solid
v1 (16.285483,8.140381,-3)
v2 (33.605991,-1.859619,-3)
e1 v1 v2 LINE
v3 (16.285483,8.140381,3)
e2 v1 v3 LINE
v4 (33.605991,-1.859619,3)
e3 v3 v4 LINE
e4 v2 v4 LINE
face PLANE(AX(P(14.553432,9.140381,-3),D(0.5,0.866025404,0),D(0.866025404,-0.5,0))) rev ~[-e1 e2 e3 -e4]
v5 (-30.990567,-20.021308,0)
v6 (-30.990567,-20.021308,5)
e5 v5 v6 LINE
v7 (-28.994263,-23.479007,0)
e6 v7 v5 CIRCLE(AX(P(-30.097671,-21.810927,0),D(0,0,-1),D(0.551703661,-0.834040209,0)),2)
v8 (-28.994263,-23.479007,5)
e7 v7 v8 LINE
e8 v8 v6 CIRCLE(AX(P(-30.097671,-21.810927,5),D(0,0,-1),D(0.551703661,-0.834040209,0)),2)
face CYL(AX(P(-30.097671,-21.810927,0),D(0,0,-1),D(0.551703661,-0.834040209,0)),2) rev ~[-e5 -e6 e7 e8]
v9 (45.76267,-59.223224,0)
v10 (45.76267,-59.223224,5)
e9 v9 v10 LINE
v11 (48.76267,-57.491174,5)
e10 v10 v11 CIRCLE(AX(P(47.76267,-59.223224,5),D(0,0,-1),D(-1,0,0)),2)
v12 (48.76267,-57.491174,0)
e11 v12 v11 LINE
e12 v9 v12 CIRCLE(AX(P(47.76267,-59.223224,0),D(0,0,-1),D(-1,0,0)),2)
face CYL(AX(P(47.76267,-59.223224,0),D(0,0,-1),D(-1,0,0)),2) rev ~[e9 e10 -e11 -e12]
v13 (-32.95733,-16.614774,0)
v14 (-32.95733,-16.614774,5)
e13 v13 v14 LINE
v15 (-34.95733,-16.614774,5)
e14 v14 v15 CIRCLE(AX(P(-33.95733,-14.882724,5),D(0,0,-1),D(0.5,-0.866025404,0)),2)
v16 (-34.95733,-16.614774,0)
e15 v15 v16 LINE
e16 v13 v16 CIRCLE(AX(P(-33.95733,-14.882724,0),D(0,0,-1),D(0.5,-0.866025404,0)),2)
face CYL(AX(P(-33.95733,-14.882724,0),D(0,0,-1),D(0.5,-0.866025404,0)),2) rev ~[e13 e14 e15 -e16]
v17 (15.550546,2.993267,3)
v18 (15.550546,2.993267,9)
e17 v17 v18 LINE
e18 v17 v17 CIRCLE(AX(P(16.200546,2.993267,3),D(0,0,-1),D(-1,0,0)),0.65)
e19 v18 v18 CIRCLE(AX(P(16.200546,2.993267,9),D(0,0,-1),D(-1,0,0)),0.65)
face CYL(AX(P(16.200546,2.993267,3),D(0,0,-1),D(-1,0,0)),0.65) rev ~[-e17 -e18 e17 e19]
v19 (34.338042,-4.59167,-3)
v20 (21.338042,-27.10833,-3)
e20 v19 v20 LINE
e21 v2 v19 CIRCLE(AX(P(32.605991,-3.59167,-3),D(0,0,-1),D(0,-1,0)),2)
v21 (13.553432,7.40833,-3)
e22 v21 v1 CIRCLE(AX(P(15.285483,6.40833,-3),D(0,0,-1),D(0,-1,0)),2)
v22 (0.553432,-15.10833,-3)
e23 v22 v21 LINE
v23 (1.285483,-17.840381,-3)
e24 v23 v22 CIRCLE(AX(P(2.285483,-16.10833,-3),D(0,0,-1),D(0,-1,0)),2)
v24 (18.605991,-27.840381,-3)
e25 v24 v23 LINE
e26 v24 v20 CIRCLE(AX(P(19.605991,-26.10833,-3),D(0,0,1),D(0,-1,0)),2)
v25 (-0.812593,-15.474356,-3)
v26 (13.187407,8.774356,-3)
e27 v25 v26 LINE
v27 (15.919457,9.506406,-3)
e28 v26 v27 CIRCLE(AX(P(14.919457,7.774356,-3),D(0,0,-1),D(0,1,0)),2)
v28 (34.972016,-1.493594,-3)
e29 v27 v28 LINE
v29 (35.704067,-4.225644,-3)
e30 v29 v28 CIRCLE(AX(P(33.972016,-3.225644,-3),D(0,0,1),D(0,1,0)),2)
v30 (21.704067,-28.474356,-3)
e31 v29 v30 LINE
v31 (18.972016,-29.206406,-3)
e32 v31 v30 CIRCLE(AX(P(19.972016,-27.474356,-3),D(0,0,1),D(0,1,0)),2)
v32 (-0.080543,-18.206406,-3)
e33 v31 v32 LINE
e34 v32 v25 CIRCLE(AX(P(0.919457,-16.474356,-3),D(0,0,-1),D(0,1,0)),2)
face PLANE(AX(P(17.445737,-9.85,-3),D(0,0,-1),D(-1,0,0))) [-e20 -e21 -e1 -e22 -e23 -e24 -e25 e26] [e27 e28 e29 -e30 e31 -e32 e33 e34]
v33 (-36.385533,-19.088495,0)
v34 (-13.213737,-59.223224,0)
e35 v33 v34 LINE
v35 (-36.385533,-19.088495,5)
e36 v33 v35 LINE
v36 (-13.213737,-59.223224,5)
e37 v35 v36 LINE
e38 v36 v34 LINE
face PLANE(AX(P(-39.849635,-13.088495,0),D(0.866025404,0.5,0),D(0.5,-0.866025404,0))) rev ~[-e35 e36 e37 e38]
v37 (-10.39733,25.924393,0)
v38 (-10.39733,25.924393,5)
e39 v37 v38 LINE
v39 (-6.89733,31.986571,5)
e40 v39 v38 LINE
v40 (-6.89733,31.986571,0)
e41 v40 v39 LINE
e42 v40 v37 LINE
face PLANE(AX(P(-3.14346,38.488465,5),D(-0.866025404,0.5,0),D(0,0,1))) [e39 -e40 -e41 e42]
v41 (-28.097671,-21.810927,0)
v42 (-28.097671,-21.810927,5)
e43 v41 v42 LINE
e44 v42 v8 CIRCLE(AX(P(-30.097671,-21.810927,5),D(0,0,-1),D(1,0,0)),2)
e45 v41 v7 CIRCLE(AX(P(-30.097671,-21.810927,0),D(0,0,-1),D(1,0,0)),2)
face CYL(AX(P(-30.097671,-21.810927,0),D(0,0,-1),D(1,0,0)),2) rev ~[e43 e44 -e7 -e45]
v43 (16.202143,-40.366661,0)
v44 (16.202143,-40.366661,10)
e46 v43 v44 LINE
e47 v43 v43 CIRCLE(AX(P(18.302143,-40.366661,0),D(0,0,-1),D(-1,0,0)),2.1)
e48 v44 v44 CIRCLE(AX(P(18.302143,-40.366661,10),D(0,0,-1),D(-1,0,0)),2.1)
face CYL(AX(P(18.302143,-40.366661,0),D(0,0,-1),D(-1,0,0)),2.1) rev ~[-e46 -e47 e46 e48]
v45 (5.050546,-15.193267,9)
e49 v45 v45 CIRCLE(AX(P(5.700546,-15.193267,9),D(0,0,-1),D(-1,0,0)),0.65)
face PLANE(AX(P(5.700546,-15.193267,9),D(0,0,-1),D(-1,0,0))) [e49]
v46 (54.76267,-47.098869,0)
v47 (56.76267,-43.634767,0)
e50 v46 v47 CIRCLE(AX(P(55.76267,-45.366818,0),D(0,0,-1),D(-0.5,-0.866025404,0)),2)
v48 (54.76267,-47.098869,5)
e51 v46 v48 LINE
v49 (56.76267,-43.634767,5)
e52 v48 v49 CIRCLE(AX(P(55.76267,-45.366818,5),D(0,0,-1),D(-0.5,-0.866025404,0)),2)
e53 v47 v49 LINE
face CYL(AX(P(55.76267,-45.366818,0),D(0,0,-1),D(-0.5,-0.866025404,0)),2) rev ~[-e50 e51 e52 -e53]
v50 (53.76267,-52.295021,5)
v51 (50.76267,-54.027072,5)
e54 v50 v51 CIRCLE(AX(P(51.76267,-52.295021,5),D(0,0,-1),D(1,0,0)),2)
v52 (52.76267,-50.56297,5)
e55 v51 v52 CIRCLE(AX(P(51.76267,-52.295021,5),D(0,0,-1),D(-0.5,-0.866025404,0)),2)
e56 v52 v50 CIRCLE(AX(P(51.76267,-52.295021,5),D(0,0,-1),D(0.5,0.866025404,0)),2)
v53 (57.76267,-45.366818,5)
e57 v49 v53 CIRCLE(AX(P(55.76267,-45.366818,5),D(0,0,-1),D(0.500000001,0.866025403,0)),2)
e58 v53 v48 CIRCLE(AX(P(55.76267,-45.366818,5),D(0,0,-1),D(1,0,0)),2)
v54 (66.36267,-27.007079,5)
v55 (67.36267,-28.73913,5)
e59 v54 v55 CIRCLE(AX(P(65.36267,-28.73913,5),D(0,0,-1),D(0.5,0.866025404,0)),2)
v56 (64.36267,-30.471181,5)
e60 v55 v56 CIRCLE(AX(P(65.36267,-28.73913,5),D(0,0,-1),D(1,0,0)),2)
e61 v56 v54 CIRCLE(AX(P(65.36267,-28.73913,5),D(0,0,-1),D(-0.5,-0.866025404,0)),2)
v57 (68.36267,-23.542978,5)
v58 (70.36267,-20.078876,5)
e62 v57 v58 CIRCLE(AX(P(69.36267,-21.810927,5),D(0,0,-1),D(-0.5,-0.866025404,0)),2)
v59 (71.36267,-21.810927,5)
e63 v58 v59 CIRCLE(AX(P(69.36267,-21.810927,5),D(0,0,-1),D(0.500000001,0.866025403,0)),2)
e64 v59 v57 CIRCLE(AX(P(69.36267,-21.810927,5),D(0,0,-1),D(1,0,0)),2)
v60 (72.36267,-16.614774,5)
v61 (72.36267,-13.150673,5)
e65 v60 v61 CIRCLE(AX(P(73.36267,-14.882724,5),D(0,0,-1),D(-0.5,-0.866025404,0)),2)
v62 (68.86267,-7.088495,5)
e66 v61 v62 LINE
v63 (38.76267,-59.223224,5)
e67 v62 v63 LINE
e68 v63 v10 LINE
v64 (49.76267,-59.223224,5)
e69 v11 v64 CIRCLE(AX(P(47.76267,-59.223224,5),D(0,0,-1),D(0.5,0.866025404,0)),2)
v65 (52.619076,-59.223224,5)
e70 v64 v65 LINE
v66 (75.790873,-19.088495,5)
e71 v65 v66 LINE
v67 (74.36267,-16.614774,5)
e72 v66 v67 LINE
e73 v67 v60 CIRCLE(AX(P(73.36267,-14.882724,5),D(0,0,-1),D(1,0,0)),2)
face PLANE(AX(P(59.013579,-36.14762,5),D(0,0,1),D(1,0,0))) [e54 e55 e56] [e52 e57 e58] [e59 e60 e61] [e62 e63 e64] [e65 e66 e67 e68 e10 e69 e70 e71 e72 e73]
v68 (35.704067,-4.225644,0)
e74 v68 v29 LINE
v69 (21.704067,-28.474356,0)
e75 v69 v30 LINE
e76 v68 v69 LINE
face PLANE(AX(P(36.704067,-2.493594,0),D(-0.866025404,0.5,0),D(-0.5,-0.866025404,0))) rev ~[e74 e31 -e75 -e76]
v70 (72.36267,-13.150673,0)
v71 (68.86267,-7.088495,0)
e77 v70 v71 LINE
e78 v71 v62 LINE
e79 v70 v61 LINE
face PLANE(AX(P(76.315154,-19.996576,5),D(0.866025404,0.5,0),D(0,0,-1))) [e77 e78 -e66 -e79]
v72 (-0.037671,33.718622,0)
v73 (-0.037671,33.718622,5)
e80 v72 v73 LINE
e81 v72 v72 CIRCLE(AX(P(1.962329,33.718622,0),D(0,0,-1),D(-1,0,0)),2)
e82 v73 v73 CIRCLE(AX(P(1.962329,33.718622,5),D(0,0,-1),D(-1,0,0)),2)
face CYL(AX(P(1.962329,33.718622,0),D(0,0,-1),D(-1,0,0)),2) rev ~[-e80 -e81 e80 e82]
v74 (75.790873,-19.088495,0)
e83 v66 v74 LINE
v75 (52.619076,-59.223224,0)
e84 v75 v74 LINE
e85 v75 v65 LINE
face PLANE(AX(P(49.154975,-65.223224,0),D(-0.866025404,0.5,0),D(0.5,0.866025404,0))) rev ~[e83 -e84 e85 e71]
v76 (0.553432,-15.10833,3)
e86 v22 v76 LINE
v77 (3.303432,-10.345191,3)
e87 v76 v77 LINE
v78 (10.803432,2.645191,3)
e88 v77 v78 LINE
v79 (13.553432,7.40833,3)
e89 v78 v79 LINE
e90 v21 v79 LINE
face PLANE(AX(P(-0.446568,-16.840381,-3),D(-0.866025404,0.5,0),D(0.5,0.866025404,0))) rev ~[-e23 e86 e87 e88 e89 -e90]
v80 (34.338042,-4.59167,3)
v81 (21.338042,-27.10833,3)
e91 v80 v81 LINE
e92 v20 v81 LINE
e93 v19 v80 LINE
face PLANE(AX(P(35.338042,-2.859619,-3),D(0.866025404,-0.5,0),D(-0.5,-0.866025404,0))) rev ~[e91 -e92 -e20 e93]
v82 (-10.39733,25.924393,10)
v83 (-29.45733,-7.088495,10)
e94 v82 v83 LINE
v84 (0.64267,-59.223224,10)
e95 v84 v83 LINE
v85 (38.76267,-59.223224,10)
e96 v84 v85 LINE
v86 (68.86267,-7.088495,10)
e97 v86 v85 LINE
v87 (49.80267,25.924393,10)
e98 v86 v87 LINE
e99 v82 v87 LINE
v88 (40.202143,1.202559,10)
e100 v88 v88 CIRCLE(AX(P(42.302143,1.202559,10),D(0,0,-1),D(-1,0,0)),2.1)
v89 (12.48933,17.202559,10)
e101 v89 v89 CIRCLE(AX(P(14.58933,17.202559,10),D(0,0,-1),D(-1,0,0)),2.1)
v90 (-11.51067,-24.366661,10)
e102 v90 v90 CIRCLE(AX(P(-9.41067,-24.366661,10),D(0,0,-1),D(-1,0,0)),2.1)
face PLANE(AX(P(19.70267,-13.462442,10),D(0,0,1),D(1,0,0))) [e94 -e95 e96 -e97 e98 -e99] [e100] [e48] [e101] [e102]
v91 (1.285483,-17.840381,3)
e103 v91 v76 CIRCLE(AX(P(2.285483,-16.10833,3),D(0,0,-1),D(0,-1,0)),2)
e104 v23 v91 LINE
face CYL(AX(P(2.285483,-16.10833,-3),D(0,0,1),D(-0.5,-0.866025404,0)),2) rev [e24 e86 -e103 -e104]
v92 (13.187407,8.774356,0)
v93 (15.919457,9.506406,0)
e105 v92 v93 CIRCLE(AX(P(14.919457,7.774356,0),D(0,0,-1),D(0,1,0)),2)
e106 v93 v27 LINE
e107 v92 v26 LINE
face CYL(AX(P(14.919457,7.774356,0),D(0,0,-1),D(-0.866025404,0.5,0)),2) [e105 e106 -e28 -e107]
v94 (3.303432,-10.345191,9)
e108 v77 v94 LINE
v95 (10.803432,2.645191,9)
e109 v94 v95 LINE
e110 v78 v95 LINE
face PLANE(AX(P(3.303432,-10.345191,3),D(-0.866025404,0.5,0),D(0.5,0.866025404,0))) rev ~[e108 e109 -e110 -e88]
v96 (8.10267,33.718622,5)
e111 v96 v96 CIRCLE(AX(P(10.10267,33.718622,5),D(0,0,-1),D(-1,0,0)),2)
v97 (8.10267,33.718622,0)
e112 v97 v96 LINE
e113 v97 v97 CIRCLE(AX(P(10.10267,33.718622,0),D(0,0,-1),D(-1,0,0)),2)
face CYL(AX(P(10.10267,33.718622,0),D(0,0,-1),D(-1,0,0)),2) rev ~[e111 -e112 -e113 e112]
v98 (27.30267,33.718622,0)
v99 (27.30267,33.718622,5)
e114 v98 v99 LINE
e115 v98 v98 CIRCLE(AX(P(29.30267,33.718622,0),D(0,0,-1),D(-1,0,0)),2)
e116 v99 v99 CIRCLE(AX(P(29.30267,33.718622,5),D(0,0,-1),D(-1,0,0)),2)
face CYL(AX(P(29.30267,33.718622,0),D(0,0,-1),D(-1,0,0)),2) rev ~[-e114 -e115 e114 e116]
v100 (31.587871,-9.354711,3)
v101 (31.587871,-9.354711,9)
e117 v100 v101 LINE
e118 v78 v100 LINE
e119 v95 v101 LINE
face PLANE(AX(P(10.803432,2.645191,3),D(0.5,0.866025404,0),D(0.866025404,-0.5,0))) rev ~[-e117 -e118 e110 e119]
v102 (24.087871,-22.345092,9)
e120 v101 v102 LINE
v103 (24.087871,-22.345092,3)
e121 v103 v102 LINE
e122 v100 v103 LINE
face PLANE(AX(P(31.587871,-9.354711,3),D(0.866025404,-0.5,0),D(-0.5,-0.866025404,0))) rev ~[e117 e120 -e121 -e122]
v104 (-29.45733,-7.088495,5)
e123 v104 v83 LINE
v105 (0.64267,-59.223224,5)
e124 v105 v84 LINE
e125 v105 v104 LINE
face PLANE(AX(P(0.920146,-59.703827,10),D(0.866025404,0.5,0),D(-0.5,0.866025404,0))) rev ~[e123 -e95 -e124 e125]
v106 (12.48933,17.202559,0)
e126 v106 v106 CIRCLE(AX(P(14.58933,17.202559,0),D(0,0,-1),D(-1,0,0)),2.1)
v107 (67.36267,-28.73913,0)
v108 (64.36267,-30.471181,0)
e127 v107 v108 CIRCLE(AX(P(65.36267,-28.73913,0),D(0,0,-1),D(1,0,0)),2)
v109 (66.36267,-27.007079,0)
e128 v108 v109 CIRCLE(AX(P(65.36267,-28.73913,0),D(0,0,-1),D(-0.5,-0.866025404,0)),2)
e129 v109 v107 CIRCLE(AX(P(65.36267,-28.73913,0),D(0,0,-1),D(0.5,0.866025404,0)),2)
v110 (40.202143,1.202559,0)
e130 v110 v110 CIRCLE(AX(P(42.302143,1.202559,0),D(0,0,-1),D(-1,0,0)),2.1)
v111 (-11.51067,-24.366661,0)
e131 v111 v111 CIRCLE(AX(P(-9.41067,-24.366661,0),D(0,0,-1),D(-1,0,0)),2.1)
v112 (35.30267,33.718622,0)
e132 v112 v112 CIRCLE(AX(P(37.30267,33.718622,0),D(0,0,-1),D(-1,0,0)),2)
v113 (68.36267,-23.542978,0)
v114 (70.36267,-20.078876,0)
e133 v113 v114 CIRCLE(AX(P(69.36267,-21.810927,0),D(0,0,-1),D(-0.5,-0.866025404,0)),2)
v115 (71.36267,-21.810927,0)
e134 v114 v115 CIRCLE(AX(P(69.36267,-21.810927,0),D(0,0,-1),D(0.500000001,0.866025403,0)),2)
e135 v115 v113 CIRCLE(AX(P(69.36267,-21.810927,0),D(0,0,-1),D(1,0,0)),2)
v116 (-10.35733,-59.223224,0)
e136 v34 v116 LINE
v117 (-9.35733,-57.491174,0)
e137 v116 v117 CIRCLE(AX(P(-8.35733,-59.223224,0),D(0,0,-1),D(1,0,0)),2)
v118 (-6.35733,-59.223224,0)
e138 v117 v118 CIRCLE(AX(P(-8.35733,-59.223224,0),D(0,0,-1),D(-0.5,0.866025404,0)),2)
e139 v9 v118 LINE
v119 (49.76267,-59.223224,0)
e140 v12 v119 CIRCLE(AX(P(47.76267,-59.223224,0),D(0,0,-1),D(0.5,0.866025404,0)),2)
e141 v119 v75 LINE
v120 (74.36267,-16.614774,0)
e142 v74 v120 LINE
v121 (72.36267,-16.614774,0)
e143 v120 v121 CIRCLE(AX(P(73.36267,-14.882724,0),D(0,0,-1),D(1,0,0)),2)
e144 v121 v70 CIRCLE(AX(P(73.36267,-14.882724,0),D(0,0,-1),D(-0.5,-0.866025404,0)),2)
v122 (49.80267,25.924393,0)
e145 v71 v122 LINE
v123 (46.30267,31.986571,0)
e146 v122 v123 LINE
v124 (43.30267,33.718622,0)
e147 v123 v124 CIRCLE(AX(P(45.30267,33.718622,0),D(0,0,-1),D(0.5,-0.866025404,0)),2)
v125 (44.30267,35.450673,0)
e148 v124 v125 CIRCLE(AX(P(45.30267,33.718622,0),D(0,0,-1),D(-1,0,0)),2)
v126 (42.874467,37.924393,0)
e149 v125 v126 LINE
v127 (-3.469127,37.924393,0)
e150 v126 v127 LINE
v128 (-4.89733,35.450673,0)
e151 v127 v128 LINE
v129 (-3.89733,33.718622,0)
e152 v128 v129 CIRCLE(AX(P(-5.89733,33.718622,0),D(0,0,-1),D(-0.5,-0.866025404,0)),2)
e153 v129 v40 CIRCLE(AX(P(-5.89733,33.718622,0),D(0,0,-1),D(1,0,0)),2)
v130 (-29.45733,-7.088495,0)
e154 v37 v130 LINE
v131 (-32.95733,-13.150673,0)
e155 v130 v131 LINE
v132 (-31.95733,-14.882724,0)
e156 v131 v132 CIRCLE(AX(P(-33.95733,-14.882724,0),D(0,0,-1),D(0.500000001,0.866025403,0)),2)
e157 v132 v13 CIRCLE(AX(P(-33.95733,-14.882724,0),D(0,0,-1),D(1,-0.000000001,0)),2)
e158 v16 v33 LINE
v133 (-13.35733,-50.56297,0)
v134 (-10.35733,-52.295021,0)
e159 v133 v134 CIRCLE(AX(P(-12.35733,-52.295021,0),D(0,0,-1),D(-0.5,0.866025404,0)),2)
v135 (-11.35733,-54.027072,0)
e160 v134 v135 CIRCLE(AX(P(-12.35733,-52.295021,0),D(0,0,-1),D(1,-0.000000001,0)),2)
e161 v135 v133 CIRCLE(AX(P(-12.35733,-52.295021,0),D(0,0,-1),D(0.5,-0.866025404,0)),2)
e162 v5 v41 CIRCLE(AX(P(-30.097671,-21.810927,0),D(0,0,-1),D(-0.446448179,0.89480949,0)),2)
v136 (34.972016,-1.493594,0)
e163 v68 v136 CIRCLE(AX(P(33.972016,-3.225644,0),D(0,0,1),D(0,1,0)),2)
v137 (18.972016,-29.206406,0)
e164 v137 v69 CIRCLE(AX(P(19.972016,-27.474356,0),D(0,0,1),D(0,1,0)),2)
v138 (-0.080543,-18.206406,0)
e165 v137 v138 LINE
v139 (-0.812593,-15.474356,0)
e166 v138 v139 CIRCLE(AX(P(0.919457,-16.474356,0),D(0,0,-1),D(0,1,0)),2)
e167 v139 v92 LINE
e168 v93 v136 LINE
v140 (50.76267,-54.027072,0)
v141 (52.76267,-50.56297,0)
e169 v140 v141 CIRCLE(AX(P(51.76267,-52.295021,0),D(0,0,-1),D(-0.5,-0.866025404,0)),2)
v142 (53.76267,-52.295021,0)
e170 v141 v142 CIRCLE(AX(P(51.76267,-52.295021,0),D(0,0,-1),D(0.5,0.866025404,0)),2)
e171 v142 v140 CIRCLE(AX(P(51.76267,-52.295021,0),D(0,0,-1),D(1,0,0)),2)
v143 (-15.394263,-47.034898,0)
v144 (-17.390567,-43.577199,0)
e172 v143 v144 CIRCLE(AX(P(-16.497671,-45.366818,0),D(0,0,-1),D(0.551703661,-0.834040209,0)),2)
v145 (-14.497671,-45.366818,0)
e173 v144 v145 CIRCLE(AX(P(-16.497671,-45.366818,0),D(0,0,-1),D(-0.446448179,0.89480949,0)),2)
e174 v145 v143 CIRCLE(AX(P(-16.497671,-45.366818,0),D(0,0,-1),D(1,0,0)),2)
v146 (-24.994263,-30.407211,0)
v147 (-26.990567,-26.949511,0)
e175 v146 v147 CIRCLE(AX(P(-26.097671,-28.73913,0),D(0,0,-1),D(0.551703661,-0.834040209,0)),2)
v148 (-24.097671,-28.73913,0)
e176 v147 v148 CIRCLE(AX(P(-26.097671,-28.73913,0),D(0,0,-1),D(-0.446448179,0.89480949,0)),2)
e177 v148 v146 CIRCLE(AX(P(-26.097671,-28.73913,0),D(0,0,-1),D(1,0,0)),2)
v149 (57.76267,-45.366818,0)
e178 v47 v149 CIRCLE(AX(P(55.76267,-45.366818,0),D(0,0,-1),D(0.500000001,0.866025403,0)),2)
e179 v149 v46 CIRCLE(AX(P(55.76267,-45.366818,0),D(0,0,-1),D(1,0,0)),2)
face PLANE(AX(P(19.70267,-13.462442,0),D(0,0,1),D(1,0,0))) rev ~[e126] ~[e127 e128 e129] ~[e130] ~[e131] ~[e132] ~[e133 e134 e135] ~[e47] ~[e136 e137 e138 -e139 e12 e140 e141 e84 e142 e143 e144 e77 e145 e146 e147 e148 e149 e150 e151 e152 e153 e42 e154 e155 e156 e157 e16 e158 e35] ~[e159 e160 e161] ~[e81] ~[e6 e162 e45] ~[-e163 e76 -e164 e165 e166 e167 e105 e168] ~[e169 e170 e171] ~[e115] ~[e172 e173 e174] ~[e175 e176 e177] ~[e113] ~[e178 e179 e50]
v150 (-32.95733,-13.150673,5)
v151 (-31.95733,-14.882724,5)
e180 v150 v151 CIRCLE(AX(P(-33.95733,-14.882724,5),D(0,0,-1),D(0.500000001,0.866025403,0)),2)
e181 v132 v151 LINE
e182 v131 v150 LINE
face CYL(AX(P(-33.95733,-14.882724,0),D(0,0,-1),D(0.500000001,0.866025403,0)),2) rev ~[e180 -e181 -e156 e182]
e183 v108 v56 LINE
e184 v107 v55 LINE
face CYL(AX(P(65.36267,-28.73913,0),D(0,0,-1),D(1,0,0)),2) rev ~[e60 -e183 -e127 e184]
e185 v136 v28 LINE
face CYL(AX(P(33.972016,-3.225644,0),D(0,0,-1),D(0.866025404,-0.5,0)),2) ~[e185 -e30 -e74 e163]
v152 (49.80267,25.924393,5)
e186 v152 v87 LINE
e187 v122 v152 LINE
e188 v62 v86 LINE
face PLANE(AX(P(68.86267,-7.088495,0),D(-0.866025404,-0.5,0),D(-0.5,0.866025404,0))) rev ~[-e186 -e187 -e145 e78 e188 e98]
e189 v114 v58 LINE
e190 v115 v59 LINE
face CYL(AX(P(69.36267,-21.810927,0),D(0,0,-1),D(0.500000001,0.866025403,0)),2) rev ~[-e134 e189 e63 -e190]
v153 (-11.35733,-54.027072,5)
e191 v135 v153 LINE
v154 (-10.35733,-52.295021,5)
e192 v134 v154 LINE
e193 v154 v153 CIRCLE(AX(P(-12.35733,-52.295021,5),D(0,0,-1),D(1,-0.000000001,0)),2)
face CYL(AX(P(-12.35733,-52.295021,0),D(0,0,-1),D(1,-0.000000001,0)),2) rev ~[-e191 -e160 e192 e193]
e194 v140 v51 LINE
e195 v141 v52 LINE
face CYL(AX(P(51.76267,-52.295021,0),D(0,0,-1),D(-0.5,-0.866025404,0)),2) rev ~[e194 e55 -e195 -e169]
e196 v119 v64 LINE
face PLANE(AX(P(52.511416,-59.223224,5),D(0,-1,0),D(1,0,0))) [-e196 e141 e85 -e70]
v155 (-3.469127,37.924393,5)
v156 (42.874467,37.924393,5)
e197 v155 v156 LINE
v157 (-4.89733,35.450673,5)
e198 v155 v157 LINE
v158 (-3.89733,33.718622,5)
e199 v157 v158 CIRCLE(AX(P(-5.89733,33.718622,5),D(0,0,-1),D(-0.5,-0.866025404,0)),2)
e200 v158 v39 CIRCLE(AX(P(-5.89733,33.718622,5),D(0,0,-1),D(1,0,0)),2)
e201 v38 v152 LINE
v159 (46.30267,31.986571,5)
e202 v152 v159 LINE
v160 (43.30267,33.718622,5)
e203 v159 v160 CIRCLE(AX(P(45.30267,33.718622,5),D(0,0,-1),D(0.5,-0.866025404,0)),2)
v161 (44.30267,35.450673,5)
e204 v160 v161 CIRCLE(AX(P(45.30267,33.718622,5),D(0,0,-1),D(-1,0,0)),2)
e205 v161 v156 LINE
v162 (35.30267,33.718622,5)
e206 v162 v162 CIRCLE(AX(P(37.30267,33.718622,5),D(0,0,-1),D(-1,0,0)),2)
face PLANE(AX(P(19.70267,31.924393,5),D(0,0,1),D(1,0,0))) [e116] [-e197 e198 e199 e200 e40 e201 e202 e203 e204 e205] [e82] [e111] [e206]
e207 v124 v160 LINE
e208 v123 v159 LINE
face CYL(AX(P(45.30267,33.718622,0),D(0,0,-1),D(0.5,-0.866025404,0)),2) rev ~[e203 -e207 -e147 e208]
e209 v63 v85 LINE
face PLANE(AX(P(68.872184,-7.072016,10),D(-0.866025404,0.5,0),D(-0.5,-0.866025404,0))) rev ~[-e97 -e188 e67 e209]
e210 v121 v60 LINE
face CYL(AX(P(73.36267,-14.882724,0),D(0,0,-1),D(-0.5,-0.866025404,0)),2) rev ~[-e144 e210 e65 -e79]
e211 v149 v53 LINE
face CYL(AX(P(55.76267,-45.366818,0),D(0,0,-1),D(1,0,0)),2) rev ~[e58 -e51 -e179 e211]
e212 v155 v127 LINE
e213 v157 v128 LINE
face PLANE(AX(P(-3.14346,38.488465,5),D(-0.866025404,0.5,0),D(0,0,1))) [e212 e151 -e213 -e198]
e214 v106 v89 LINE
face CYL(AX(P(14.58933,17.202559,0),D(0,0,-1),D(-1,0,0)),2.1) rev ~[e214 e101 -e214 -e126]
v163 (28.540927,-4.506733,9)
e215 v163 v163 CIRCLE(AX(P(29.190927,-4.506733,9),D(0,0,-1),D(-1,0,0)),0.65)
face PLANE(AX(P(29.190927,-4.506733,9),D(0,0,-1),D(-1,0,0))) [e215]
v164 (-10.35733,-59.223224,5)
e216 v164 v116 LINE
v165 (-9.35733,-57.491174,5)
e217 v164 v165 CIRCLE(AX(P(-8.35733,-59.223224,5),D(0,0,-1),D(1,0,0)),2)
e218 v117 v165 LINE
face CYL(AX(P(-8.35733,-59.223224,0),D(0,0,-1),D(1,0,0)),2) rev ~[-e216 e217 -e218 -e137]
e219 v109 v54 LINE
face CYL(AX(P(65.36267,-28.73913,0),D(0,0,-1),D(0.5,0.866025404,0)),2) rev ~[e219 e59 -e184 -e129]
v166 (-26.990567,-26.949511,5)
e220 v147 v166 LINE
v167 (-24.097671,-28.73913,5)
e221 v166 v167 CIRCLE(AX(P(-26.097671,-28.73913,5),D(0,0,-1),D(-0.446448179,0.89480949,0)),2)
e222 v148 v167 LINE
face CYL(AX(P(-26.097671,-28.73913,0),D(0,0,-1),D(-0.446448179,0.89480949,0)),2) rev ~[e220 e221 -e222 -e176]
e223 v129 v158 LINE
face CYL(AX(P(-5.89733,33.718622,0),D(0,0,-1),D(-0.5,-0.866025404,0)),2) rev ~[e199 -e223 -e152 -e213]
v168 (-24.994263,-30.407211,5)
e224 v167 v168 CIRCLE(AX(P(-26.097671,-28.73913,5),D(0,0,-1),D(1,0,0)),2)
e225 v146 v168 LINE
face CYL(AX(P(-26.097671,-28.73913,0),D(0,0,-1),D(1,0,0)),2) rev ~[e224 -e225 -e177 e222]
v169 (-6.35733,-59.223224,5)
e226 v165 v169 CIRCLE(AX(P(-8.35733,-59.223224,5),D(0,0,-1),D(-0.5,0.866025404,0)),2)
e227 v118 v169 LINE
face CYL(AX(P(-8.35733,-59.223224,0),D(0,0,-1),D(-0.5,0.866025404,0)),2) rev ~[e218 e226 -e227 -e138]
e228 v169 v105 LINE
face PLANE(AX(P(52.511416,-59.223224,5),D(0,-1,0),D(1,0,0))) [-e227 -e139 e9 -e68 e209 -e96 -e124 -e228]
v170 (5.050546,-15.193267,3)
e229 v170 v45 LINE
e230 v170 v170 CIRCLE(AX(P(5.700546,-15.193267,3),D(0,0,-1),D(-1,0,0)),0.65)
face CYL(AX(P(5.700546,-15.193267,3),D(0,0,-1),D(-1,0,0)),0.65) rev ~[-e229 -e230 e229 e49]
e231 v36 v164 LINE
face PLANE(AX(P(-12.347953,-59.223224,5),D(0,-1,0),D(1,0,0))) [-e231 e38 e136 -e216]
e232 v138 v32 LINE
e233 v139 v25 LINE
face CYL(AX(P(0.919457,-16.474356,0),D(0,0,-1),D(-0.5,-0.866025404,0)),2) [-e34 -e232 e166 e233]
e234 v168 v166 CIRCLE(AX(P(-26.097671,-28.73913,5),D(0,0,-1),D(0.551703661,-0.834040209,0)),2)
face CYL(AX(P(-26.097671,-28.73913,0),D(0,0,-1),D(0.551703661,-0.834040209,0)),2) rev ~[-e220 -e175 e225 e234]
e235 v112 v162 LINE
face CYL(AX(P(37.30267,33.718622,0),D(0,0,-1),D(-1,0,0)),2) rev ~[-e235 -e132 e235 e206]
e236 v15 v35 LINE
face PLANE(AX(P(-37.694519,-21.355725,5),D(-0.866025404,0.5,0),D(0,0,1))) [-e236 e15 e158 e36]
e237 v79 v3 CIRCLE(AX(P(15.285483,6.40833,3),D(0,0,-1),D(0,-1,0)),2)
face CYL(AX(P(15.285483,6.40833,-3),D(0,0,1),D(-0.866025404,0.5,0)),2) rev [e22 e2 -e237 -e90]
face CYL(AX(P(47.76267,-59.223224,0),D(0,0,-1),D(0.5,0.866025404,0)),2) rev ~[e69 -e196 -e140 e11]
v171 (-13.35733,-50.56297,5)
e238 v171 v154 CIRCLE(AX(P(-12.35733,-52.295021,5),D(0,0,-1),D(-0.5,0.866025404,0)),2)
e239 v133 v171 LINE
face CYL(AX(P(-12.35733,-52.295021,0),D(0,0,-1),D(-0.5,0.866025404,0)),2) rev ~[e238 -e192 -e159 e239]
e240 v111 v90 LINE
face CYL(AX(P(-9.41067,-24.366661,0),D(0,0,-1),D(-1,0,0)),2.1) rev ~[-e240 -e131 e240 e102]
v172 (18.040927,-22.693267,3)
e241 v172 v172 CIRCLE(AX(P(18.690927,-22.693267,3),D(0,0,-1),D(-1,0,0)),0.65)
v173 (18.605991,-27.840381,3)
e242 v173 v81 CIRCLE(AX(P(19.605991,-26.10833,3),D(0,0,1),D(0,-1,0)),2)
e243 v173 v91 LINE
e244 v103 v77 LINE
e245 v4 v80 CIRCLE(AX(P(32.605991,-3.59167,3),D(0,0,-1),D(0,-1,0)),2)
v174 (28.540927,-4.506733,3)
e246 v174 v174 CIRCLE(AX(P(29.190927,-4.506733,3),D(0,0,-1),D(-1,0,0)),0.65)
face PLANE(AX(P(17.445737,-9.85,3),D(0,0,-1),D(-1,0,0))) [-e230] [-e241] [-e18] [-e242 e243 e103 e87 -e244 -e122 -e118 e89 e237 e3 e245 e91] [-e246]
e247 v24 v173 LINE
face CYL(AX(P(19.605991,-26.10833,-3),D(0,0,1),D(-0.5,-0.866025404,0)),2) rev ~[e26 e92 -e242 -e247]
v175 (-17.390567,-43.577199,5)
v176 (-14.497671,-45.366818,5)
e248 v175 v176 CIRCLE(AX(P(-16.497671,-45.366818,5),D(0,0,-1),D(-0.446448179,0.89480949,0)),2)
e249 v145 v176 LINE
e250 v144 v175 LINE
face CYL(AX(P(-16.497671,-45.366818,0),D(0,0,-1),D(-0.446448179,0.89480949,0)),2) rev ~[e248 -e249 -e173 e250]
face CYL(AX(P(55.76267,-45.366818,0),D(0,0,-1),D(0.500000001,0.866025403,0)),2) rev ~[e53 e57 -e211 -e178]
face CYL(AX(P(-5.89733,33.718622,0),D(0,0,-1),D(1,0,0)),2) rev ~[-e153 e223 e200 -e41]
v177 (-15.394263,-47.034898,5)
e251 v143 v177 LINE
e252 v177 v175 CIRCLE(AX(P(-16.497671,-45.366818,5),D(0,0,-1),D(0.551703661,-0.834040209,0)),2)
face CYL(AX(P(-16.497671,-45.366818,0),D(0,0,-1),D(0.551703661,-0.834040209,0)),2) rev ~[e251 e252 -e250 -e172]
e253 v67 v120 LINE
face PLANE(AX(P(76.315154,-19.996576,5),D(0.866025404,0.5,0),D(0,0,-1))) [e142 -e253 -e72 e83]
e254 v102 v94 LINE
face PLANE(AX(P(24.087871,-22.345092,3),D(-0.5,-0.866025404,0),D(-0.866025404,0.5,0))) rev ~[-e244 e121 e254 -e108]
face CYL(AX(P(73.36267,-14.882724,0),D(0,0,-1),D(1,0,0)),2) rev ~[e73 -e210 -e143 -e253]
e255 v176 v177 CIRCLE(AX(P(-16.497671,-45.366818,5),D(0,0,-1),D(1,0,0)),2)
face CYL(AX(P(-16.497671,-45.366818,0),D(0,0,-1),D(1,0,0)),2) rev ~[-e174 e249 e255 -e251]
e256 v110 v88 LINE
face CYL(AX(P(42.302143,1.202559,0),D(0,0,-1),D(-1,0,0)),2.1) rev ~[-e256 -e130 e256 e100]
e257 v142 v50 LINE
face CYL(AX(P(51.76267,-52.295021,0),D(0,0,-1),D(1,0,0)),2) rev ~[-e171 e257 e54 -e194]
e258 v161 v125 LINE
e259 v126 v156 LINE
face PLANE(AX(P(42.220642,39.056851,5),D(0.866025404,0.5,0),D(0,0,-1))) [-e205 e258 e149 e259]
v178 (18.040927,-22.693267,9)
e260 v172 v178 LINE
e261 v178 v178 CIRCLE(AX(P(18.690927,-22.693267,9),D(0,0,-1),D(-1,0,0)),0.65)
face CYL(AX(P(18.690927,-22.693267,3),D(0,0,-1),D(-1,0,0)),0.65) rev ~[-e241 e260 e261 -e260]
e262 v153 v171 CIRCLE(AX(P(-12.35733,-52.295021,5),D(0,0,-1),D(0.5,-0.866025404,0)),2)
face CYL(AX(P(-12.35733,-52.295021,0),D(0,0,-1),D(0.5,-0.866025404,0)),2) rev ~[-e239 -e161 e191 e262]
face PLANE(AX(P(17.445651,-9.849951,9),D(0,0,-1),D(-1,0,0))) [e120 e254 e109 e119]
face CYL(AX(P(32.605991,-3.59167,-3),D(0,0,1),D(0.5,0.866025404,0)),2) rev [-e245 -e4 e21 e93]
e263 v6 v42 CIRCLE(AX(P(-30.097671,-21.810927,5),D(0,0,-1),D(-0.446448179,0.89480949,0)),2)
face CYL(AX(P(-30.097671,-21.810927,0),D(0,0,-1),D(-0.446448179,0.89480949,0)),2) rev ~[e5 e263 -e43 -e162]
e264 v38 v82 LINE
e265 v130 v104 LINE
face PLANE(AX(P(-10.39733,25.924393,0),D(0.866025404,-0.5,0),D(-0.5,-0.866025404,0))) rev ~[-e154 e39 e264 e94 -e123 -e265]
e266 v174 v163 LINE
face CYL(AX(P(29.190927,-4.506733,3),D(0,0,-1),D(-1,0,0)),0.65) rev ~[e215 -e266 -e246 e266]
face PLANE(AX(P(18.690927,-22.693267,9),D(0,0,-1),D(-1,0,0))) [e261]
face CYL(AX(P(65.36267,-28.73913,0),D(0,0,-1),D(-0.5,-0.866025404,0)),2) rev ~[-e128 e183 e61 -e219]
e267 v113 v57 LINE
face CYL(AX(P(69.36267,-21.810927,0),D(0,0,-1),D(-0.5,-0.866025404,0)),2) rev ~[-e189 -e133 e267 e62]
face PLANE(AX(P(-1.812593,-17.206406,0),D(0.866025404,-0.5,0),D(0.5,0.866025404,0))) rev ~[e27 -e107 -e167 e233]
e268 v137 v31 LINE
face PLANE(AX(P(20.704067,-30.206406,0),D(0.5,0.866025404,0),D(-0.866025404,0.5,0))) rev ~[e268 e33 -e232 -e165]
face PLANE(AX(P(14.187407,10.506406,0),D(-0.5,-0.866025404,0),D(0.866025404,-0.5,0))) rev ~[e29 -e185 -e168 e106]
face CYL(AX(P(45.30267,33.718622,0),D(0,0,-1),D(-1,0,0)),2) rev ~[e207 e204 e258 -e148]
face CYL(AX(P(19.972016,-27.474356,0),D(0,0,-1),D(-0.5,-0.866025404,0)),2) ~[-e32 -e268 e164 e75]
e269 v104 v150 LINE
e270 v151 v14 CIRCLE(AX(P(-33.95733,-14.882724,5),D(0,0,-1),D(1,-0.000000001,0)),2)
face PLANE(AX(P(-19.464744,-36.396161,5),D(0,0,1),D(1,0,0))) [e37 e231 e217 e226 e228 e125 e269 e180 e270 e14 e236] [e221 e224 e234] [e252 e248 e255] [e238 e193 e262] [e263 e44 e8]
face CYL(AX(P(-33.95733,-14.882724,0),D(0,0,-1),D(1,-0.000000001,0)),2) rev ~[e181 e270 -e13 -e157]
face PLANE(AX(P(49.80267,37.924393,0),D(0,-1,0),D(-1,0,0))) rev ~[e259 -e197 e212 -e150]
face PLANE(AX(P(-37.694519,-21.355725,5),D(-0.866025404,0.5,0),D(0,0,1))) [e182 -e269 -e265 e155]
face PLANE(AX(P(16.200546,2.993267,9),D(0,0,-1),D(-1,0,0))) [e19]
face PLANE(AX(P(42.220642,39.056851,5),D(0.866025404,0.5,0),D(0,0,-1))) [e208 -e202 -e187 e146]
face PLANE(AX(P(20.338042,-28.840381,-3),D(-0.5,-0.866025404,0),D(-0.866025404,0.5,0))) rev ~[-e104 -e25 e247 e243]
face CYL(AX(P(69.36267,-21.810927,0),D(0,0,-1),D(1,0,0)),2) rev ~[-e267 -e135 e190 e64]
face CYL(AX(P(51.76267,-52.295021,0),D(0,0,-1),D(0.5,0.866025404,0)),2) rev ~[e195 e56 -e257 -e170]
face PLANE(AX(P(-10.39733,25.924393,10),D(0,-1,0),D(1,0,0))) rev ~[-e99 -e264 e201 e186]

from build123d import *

# Parameters (mm, degrees)
EXTRUDE_4_DEPTH      = 10
SKETCH_2_R           = 2.1
CUT_EXTRUDE_1_DEPTH  = 104.128172694
SKETCH_4_W           = 60.2
SKETCH_4_H           = 12
CUT_EXTRUDE_2_DEPTH  = 5
CUT_EXTRUDE_9_DEPTH  = 125.764203881
EXTRUDE_5_DEPTH      = 3
CUT_EXTRUDE_10_DEPTH = 6
FILLET_1_R           = 2
FILLET_2_R           = 2
SKETCH_10_R          = 0.65
CUT_EXTRUDE_11_DEPTH = 6
CUT_EXTRUDE_12_DEPTH = 127.561979888
CUT_EXTRUDE_13_DEPTH = 124.620047186


with BuildPart() as part:
    # 草圖1 → 填料-伸長4 (new body)
    with BuildSketch(Plane.XY):
        Polygon((49.802669845, 25.924393386), (-10.397330155, 25.924393386), (-29.457330155, -7.088495007), (0.642669845, -59.223224314), (38.762669845, -59.223224314), (68.862669845, -7.088495007), align=None)
        with BuildLine():
            Line((-0.037670798, 33.71862202), (-3.897330155, 33.71862202))
            ThreePointArc((-3.897330155, 33.71862202), (-4.897330155, 31.986571212), (-6.897330155, 31.986571212))
            Line((-6.897330155, 31.986571212), (-10.397330155, 25.924393386))
            Line((-10.397330155, 25.924393386), (49.802669845, 25.924393386))
            Line((49.802669845, 25.924393386), (46.302669845, 31.986571212))
            ThreePointArc((46.302669845, 31.986571212), (44.302669845, 31.986571212), (43.302669845, 33.71862202))
            Line((43.302669845, 33.71862202), (39.302669845, 33.71862202))
            ThreePointArc((39.302669845, 33.71862202), (37.302669845, 31.71862202), (35.302669845, 33.71862202))
            Line((35.302669845, 33.71862202), (31.302669845, 33.71862202))
            ThreePointArc((31.302669845, 33.71862202), (29.302669845, 31.71862202), (27.302669845, 33.71862202))
            Line((27.302669845, 33.71862202), (12.102669845, 33.71862202))
            ThreePointArc((12.102669845, 33.71862202), (10.102669845, 31.71862202), (8.102669845, 33.71862202))
            Line((8.102669845, 33.71862202), (3.962329202, 33.71862202))
            ThreePointArc((3.962329202, 33.71862202), (1.962329202, 31.71862202), (-0.037670798, 33.71862202))
        make_face()
        with BuildLine():
            ThreePointArc((-6.897330155, 31.986571212), (-6.897330155, 35.450672827), (-3.897330155, 33.71862202))
            Line((-3.897330155, 33.71862202), (-0.037670798, 33.71862202))
            ThreePointArc((-0.037670798, 33.71862202), (1.962329202, 35.71862202), (3.962329202, 33.71862202))
            Line((3.962329202, 33.71862202), (8.102669845, 33.71862202))
            ThreePointArc((8.102669845, 33.71862202), (10.102669845, 35.71862202), (12.102669845, 33.71862202))
            Line((12.102669845, 33.71862202), (27.302669845, 33.71862202))
            ThreePointArc((27.302669845, 33.71862202), (29.302669845, 35.71862202), (31.302669845, 33.71862202))
            Line((31.302669845, 33.71862202), (35.302669845, 33.71862202))
            ThreePointArc((35.302669845, 33.71862202), (37.302669845, 35.71862202), (39.302669845, 33.71862202))
            Line((39.302669845, 33.71862202), (43.302669845, 33.71862202))
            ThreePointArc((43.302669845, 33.71862202), (45.302669845, 35.71862202), (47.302669845, 33.71862202))
            ThreePointArc((47.302669845, 33.71862202), (47.034720652, 32.71862202), (46.302669845, 31.986571212))
            Line((46.302669845, 31.986571212), (49.802669845, 25.924393386))
            Line((49.802669845, 25.924393386), (49.802669845, 37.924393386))
            Line((49.802669845, 37.924393386), (-10.397330155, 37.924393386))
            Line((-10.397330155, 37.924393386), (-10.397330155, 25.924393386))
            Line((-10.397330155, 25.924393386), (-6.897330155, 31.986571212))
        make_face()
        with BuildLine():
            Line((-32.957330155, -13.150672833), (-29.457330155, -7.088495007))
            Line((-29.457330155, -7.088495007), (-39.849635001, -13.088495007))
            Line((-39.849635001, -13.088495007), (-9.749635001, -65.223224314))
            Line((-9.749635001, -65.223224314), (0.642669845, -59.223224314))
            Line((0.642669845, -59.223224314), (-6.357330155, -59.223224314))
            ThreePointArc((-6.357330155, -59.223224314), (-9.357330155, -60.955275122), (-9.357330155, -57.491173507))
            Line((-9.357330155, -57.491173507), (-11.357330155, -54.027071892))
            ThreePointArc((-11.357330155, -54.027071892), (-14.089380963, -53.295021084), (-13.357330155, -50.562970277))
            Line((-13.357330155, -50.562970277), (-15.394263476, -47.034898273))
            ThreePointArc((-15.394263476, -47.034898273), (-18.229721605, -46.366817854), (-17.390567155, -43.577198874))
            Line((-17.390567155, -43.577198874), (-24.994263476, -30.40721052))
            ThreePointArc((-24.994263476, -30.40721052), (-27.829721605, -29.739130101), (-26.990567155, -26.949511121))
            Line((-26.990567155, -26.949511121), (-28.994263476, -23.47900729))
            ThreePointArc((-28.994263476, -23.47900729), (-31.829721605, -22.810926871), (-30.990567155, -20.021307891))
            Line((-30.990567155, -20.021307891), (-32.957330155, -16.614774448))
            ThreePointArc((-32.957330155, -16.614774448), (-35.957330155, -14.882723641), (-32.957330155, -13.150672833))
        make_face()
        with BuildLine():
            Line((0.642669845, -59.223224314), (-29.457330155, -7.088495007))
            Line((-29.457330155, -7.088495007), (-32.957330155, -13.150672833))
            ThreePointArc((-32.957330155, -13.150672833), (-32.225279348, -13.882723641), (-31.957330155, -14.882723641))
            ThreePointArc((-31.957330155, -14.882723641), (-32.225279348, -15.882723641), (-32.957330155, -16.614774448))
            Line((-32.957330155, -16.614774448), (-30.990567155, -20.021307891))
            ThreePointArc((-30.990567155, -20.021307891), (-29.045480871, -20.110075214), (-28.097670798, -21.810926871))
            ThreePointArc((-28.097670798, -21.810926871), (-28.336021763, -22.75781265), (-28.994263476, -23.47900729))
            Line((-28.994263476, -23.47900729), (-26.990567155, -26.949511121))
            ThreePointArc((-26.990567155, -26.949511121), (-25.045480871, -27.038278445), (-24.097670798, -28.739130101))
            ThreePointArc((-24.097670798, -28.739130101), (-24.336021763, -29.68601588), (-24.994263476, -30.40721052))
            Line((-24.994263476, -30.40721052), (-17.390567155, -43.577198874))
            ThreePointArc((-17.390567155, -43.577198874), (-15.445480871, -43.665966197), (-14.497670798, -45.366817854))
            ThreePointArc((-14.497670798, -45.366817854), (-14.736021763, -46.313703633), (-15.394263476, -47.034898273))
            Line((-15.394263476, -47.034898273), (-13.357330155, -50.562970277))
            ThreePointArc((-13.357330155, -50.562970277), (-11.357330155, -50.562970277), (-10.357330155, -52.295021084))
            ThreePointArc((-10.357330155, -52.295021084), (-10.625279348, -53.295021084), (-11.357330155, -54.027071892))
            Line((-11.357330155, -54.027071892), (-9.357330155, -57.491173507))
            ThreePointArc((-9.357330155, -57.491173507), (-7.357330155, -57.491173507), (-6.357330155, -59.223224314))
            Line((-6.357330155, -59.223224314), (0.642669845, -59.223224314))
        make_face()
        with BuildLine():
            Line((79.25497469, -13.088495007), (68.862669845, -7.088495007))
            Line((68.862669845, -7.088495007), (72.362669845, -13.150672833))
            ThreePointArc((72.362669845, -13.150672833), (74.362669845, -13.150672833), (75.362669845, -14.882723641))
            ThreePointArc((75.362669845, -14.882723641), (74.362669845, -16.614774448), (72.362669845, -16.614774448))
            Line((72.362669845, -16.614774448), (70.362669845, -20.078876063))
            ThreePointArc((70.362669845, -20.078876063), (71.094720652, -20.810926871), (71.362669845, -21.810926871))
            ThreePointArc((71.362669845, -21.810926871), (70.362669845, -23.542977679), (68.362669845, -23.542977679))
            Line((68.362669845, -23.542977679), (66.362669845, -27.007079294))
            ThreePointArc((66.362669845, -27.007079294), (67.094720652, -27.739130101), (67.362669845, -28.739130101))
            ThreePointArc((67.362669845, -28.739130101), (66.362669845, -30.471180909), (64.362669845, -30.471180909))
            Line((64.362669845, -30.471180909), (56.762669845, -43.634767046))
            ThreePointArc((56.762669845, -43.634767046), (57.494720652, -44.366817854), (57.762669845, -45.366817854))
            ThreePointArc((57.762669845, -45.366817854), (56.762669845, -47.098868661), (54.762669845, -47.098868661))
            Line((54.762669845, -47.098868661), (52.762669845, -50.562970277))
            ThreePointArc((52.762669845, -50.562970277), (53.494720652, -51.295021084), (53.762669845, -52.295021084))
            ThreePointArc((53.762669845, -52.295021084), (52.762669845, -54.027071892), (50.762669845, -54.027071892))
            Line((50.762669845, -54.027071892), (48.762669845, -57.491173507))
            ThreePointArc((48.762669845, -57.491173507), (49.494720652, -58.223224314), (49.762669845, -59.223224314))
            ThreePointArc((49.762669845, -59.223224314), (47.762669845, -61.223224314), (45.762669845, -59.223224314))
            Line((45.762669845, -59.223224314), (38.762669845, -59.223224314))
            Line((38.762669845, -59.223224314), (49.15497469, -65.223224314))
            Line((49.15497469, -65.223224314), (79.25497469, -13.088495007))
        make_face()
        with BuildLine():
            Line((72.362669845, -13.150672833), (68.862669845, -7.088495007))
            Line((68.862669845, -7.088495007), (38.762669845, -59.223224314))
            Line((38.762669845, -59.223224314), (45.762669845, -59.223224314))
            ThreePointArc((45.762669845, -59.223224314), (46.762669845, -57.491173507), (48.762669845, -57.491173507))
            Line((48.762669845, -57.491173507), (50.762669845, -54.027071892))
            ThreePointArc((50.762669845, -54.027071892), (50.030619037, -51.295021084), (52.762669845, -50.562970277))
            Line((52.762669845, -50.562970277), (54.762669845, -47.098868661))
            ThreePointArc((54.762669845, -47.098868661), (54.030619037, -44.366817854), (56.762669845, -43.634767046))
            Line((56.762669845, -43.634767046), (64.362669845, -30.471180909))
            ThreePointArc((64.362669845, -30.471180909), (63.630619037, -27.739130101), (66.362669845, -27.007079294))
            Line((66.362669845, -27.007079294), (68.362669845, -23.542977679))
            ThreePointArc((68.362669845, -23.542977679), (67.630619037, -20.810926871), (70.362669845, -20.078876063))
            Line((70.362669845, -20.078876063), (72.362669845, -16.614774448))
            ThreePointArc((72.362669845, -16.614774448), (71.362669845, -14.882723641), (72.362669845, -13.150672833))
        make_face()
    extrude(amount=EXTRUDE_4_DEPTH)

    # 草圖2 → 除料-伸長1 (cut, through all)
    with BuildSketch(Plane(origin=(0, 0, 0), x_dir=(-1, 0, 0), z_dir=(0, 0, -1))):
        with Locations((9.410669657, -24.366660501)):
            Circle(SKETCH_2_R)
        with Locations((-14.589330343, 17.20255888)):
            Circle(SKETCH_2_R)
        with Locations((-42.302143264, 1.20255888)):
            Circle(SKETCH_2_R)
        with Locations((-18.302143264, -40.366660501)):
            Circle(SKETCH_2_R)
    extrude(amount=-CUT_EXTRUDE_1_DEPTH, mode=Mode.SUBTRACT)

    # 草圖4 → 除料-伸長2 (cut)
    with BuildSketch(Plane.XY.offset(10)):
        Polygon((38.762669845, -59.223224314), (49.15497469, -65.223224314), (79.264488572, -13.07201648), (68.872183727, -7.07201648), align=None)
        with Locations((19.702669845, 31.924393386)):
            Rectangle(SKETCH_4_W, SKETCH_4_H)
        Polygon((-29.457330155, -7.088495007), (-39.849635001, -13.088495007), (-9.472158735, -65.703827304), (0.92014611, -59.703827304), align=None)
    extrude(amount=-CUT_EXTRUDE_2_DEPTH, mode=Mode.SUBTRACT)

    # 草圖7 → 除料-伸長9 (cut, through all)
    with BuildSketch(Plane(origin=(-19.023589241, 10.983274369, 0), x_dir=(0, 0, 1), z_dir=(-0.8660254037844397, 0.499999999999998, 0))):
        Polygon((5, -20.867481828), (0, -20.867481828), (0, -53.816238545), (10, -53.816238545), (10, -20.867481828), align=None)
        Polygon((0, 46.26799966), (0, 17.252518172), (5, 17.252518172), (10, 17.252518172), (10, 46.26799966), align=None)
    extrude(amount=CUT_EXTRUDE_9_DEPTH, mode=Mode.SUBTRACT)

    # 草圖8 → 填料-伸長5 (add)
    with BuildSketch(Plane(origin=(0, 0, 0), x_dir=(-1, 0, 0), z_dir=(0, 0, -1))):
        Polygon((-20.704067053, -30.206406463), (1.812593446, -17.206406463), (-14.187406554, 10.506406458), (-36.704067053, -2.493593542), align=None)
    extrude(amount=EXTRUDE_5_DEPTH)

    # 草圖9 → 除料-伸長10 (cut)
    with BuildSketch(Plane(origin=(0, 0, -3), x_dir=(-1, 0, 0), z_dir=(0, 0, -1))):
        Polygon((-20.338041649, -28.84038106), (0.446568042, -16.84038106), (-14.553431958, 9.140381054), (-35.338041649, -2.859618946), align=None)
    extrude(amount=-CUT_EXTRUDE_10_DEPTH, mode=Mode.SUBTRACT)

    # 圓角1
    fillet_1_edges = [part.edges().sort_by_distance(p)[0] for p in [
        (20.338041649, -28.84038106, 0),
        (35.338041649, -2.859618946, 0),
        (14.553431958, 9.140381054, 0),
        (-0.446568042, -16.84038106, 0),
    ]]
    fillet(fillet_1_edges, radius=FILLET_1_R)

    # 圓角2
    fillet_2_edges = [part.edges().sort_by_distance(p)[0] for p in [
        (36.704067053, -2.493593542, -1.5),
        (20.704067053, -30.206406463, -1.5),
        (-1.812593446, -17.206406463, -1.5),
        (14.187406554, 10.506406458, -1.5),
    ]]
    fillet(fillet_2_edges, radius=FILLET_2_R)

    # 草圖10 → 除料-伸長11 (cut)
    with BuildSketch(Plane(origin=(0, 0, 3), x_dir=(-1, 0, 0), z_dir=(0, 0, -1))):
        with Locations((-29.190927332, -4.506733263)):
            Circle(SKETCH_10_R)
        with Locations((-16.200546275, 2.993266737)):
            Circle(SKETCH_10_R)
        with Locations((-5.700546275, -15.193266743)):
            Circle(SKETCH_10_R)
        with Locations((-18.690927332, -22.693266743)):
            Circle(SKETCH_10_R)
        Polygon((-3.303431958, -10.345190531), (-10.803431958, 2.645190525), (-31.587870903, -9.354710894), (-24.087870903, -22.345091951), align=None)
    extrude(amount=-CUT_EXTRUDE_11_DEPTH, mode=Mode.SUBTRACT)

    # 草圖12 → 除料-伸長12 (cut, through all)
    with BuildSketch(Plane(origin=(48.577594008, 28.046286977, 0), x_dir=(0, 0, -1), z_dir=(0.8660254037844362, 0.5000000000000041, 0))):
        Polygon((0, -70.38008838), (0, -40.570151673), (-5, -40.570151673), (-10, -40.570151673), (-10, -70.38008838), align=None)
        Polygon((-5, -2.450151673), (0, -2.450151673), (0, 27.877960609), (-10, 27.877960609), (-10, -2.450151673), align=None)
    extrude(amount=CUT_EXTRUDE_12_DEPTH, mode=Mode.SUBTRACT)

    # 草圖13 → 除料-伸長13 (cut, through all)
    with BuildSketch(Plane.XZ.offset(59.223224314)):
        Polygon((66.260162627, 10), (38.762669845, 10), (38.762669845, 5), (38.762669845, 0), (66.260162627, 0), align=None)
        Polygon((0.642669845, 5), (0.642669845, 10), (-25.338575987, 10), (-25.338575987, 0), (0.642669845, 0), align=None)
    extrude(amount=CUT_EXTRUDE_13_DEPTH, mode=Mode.SUBTRACT)


solid = part.part
